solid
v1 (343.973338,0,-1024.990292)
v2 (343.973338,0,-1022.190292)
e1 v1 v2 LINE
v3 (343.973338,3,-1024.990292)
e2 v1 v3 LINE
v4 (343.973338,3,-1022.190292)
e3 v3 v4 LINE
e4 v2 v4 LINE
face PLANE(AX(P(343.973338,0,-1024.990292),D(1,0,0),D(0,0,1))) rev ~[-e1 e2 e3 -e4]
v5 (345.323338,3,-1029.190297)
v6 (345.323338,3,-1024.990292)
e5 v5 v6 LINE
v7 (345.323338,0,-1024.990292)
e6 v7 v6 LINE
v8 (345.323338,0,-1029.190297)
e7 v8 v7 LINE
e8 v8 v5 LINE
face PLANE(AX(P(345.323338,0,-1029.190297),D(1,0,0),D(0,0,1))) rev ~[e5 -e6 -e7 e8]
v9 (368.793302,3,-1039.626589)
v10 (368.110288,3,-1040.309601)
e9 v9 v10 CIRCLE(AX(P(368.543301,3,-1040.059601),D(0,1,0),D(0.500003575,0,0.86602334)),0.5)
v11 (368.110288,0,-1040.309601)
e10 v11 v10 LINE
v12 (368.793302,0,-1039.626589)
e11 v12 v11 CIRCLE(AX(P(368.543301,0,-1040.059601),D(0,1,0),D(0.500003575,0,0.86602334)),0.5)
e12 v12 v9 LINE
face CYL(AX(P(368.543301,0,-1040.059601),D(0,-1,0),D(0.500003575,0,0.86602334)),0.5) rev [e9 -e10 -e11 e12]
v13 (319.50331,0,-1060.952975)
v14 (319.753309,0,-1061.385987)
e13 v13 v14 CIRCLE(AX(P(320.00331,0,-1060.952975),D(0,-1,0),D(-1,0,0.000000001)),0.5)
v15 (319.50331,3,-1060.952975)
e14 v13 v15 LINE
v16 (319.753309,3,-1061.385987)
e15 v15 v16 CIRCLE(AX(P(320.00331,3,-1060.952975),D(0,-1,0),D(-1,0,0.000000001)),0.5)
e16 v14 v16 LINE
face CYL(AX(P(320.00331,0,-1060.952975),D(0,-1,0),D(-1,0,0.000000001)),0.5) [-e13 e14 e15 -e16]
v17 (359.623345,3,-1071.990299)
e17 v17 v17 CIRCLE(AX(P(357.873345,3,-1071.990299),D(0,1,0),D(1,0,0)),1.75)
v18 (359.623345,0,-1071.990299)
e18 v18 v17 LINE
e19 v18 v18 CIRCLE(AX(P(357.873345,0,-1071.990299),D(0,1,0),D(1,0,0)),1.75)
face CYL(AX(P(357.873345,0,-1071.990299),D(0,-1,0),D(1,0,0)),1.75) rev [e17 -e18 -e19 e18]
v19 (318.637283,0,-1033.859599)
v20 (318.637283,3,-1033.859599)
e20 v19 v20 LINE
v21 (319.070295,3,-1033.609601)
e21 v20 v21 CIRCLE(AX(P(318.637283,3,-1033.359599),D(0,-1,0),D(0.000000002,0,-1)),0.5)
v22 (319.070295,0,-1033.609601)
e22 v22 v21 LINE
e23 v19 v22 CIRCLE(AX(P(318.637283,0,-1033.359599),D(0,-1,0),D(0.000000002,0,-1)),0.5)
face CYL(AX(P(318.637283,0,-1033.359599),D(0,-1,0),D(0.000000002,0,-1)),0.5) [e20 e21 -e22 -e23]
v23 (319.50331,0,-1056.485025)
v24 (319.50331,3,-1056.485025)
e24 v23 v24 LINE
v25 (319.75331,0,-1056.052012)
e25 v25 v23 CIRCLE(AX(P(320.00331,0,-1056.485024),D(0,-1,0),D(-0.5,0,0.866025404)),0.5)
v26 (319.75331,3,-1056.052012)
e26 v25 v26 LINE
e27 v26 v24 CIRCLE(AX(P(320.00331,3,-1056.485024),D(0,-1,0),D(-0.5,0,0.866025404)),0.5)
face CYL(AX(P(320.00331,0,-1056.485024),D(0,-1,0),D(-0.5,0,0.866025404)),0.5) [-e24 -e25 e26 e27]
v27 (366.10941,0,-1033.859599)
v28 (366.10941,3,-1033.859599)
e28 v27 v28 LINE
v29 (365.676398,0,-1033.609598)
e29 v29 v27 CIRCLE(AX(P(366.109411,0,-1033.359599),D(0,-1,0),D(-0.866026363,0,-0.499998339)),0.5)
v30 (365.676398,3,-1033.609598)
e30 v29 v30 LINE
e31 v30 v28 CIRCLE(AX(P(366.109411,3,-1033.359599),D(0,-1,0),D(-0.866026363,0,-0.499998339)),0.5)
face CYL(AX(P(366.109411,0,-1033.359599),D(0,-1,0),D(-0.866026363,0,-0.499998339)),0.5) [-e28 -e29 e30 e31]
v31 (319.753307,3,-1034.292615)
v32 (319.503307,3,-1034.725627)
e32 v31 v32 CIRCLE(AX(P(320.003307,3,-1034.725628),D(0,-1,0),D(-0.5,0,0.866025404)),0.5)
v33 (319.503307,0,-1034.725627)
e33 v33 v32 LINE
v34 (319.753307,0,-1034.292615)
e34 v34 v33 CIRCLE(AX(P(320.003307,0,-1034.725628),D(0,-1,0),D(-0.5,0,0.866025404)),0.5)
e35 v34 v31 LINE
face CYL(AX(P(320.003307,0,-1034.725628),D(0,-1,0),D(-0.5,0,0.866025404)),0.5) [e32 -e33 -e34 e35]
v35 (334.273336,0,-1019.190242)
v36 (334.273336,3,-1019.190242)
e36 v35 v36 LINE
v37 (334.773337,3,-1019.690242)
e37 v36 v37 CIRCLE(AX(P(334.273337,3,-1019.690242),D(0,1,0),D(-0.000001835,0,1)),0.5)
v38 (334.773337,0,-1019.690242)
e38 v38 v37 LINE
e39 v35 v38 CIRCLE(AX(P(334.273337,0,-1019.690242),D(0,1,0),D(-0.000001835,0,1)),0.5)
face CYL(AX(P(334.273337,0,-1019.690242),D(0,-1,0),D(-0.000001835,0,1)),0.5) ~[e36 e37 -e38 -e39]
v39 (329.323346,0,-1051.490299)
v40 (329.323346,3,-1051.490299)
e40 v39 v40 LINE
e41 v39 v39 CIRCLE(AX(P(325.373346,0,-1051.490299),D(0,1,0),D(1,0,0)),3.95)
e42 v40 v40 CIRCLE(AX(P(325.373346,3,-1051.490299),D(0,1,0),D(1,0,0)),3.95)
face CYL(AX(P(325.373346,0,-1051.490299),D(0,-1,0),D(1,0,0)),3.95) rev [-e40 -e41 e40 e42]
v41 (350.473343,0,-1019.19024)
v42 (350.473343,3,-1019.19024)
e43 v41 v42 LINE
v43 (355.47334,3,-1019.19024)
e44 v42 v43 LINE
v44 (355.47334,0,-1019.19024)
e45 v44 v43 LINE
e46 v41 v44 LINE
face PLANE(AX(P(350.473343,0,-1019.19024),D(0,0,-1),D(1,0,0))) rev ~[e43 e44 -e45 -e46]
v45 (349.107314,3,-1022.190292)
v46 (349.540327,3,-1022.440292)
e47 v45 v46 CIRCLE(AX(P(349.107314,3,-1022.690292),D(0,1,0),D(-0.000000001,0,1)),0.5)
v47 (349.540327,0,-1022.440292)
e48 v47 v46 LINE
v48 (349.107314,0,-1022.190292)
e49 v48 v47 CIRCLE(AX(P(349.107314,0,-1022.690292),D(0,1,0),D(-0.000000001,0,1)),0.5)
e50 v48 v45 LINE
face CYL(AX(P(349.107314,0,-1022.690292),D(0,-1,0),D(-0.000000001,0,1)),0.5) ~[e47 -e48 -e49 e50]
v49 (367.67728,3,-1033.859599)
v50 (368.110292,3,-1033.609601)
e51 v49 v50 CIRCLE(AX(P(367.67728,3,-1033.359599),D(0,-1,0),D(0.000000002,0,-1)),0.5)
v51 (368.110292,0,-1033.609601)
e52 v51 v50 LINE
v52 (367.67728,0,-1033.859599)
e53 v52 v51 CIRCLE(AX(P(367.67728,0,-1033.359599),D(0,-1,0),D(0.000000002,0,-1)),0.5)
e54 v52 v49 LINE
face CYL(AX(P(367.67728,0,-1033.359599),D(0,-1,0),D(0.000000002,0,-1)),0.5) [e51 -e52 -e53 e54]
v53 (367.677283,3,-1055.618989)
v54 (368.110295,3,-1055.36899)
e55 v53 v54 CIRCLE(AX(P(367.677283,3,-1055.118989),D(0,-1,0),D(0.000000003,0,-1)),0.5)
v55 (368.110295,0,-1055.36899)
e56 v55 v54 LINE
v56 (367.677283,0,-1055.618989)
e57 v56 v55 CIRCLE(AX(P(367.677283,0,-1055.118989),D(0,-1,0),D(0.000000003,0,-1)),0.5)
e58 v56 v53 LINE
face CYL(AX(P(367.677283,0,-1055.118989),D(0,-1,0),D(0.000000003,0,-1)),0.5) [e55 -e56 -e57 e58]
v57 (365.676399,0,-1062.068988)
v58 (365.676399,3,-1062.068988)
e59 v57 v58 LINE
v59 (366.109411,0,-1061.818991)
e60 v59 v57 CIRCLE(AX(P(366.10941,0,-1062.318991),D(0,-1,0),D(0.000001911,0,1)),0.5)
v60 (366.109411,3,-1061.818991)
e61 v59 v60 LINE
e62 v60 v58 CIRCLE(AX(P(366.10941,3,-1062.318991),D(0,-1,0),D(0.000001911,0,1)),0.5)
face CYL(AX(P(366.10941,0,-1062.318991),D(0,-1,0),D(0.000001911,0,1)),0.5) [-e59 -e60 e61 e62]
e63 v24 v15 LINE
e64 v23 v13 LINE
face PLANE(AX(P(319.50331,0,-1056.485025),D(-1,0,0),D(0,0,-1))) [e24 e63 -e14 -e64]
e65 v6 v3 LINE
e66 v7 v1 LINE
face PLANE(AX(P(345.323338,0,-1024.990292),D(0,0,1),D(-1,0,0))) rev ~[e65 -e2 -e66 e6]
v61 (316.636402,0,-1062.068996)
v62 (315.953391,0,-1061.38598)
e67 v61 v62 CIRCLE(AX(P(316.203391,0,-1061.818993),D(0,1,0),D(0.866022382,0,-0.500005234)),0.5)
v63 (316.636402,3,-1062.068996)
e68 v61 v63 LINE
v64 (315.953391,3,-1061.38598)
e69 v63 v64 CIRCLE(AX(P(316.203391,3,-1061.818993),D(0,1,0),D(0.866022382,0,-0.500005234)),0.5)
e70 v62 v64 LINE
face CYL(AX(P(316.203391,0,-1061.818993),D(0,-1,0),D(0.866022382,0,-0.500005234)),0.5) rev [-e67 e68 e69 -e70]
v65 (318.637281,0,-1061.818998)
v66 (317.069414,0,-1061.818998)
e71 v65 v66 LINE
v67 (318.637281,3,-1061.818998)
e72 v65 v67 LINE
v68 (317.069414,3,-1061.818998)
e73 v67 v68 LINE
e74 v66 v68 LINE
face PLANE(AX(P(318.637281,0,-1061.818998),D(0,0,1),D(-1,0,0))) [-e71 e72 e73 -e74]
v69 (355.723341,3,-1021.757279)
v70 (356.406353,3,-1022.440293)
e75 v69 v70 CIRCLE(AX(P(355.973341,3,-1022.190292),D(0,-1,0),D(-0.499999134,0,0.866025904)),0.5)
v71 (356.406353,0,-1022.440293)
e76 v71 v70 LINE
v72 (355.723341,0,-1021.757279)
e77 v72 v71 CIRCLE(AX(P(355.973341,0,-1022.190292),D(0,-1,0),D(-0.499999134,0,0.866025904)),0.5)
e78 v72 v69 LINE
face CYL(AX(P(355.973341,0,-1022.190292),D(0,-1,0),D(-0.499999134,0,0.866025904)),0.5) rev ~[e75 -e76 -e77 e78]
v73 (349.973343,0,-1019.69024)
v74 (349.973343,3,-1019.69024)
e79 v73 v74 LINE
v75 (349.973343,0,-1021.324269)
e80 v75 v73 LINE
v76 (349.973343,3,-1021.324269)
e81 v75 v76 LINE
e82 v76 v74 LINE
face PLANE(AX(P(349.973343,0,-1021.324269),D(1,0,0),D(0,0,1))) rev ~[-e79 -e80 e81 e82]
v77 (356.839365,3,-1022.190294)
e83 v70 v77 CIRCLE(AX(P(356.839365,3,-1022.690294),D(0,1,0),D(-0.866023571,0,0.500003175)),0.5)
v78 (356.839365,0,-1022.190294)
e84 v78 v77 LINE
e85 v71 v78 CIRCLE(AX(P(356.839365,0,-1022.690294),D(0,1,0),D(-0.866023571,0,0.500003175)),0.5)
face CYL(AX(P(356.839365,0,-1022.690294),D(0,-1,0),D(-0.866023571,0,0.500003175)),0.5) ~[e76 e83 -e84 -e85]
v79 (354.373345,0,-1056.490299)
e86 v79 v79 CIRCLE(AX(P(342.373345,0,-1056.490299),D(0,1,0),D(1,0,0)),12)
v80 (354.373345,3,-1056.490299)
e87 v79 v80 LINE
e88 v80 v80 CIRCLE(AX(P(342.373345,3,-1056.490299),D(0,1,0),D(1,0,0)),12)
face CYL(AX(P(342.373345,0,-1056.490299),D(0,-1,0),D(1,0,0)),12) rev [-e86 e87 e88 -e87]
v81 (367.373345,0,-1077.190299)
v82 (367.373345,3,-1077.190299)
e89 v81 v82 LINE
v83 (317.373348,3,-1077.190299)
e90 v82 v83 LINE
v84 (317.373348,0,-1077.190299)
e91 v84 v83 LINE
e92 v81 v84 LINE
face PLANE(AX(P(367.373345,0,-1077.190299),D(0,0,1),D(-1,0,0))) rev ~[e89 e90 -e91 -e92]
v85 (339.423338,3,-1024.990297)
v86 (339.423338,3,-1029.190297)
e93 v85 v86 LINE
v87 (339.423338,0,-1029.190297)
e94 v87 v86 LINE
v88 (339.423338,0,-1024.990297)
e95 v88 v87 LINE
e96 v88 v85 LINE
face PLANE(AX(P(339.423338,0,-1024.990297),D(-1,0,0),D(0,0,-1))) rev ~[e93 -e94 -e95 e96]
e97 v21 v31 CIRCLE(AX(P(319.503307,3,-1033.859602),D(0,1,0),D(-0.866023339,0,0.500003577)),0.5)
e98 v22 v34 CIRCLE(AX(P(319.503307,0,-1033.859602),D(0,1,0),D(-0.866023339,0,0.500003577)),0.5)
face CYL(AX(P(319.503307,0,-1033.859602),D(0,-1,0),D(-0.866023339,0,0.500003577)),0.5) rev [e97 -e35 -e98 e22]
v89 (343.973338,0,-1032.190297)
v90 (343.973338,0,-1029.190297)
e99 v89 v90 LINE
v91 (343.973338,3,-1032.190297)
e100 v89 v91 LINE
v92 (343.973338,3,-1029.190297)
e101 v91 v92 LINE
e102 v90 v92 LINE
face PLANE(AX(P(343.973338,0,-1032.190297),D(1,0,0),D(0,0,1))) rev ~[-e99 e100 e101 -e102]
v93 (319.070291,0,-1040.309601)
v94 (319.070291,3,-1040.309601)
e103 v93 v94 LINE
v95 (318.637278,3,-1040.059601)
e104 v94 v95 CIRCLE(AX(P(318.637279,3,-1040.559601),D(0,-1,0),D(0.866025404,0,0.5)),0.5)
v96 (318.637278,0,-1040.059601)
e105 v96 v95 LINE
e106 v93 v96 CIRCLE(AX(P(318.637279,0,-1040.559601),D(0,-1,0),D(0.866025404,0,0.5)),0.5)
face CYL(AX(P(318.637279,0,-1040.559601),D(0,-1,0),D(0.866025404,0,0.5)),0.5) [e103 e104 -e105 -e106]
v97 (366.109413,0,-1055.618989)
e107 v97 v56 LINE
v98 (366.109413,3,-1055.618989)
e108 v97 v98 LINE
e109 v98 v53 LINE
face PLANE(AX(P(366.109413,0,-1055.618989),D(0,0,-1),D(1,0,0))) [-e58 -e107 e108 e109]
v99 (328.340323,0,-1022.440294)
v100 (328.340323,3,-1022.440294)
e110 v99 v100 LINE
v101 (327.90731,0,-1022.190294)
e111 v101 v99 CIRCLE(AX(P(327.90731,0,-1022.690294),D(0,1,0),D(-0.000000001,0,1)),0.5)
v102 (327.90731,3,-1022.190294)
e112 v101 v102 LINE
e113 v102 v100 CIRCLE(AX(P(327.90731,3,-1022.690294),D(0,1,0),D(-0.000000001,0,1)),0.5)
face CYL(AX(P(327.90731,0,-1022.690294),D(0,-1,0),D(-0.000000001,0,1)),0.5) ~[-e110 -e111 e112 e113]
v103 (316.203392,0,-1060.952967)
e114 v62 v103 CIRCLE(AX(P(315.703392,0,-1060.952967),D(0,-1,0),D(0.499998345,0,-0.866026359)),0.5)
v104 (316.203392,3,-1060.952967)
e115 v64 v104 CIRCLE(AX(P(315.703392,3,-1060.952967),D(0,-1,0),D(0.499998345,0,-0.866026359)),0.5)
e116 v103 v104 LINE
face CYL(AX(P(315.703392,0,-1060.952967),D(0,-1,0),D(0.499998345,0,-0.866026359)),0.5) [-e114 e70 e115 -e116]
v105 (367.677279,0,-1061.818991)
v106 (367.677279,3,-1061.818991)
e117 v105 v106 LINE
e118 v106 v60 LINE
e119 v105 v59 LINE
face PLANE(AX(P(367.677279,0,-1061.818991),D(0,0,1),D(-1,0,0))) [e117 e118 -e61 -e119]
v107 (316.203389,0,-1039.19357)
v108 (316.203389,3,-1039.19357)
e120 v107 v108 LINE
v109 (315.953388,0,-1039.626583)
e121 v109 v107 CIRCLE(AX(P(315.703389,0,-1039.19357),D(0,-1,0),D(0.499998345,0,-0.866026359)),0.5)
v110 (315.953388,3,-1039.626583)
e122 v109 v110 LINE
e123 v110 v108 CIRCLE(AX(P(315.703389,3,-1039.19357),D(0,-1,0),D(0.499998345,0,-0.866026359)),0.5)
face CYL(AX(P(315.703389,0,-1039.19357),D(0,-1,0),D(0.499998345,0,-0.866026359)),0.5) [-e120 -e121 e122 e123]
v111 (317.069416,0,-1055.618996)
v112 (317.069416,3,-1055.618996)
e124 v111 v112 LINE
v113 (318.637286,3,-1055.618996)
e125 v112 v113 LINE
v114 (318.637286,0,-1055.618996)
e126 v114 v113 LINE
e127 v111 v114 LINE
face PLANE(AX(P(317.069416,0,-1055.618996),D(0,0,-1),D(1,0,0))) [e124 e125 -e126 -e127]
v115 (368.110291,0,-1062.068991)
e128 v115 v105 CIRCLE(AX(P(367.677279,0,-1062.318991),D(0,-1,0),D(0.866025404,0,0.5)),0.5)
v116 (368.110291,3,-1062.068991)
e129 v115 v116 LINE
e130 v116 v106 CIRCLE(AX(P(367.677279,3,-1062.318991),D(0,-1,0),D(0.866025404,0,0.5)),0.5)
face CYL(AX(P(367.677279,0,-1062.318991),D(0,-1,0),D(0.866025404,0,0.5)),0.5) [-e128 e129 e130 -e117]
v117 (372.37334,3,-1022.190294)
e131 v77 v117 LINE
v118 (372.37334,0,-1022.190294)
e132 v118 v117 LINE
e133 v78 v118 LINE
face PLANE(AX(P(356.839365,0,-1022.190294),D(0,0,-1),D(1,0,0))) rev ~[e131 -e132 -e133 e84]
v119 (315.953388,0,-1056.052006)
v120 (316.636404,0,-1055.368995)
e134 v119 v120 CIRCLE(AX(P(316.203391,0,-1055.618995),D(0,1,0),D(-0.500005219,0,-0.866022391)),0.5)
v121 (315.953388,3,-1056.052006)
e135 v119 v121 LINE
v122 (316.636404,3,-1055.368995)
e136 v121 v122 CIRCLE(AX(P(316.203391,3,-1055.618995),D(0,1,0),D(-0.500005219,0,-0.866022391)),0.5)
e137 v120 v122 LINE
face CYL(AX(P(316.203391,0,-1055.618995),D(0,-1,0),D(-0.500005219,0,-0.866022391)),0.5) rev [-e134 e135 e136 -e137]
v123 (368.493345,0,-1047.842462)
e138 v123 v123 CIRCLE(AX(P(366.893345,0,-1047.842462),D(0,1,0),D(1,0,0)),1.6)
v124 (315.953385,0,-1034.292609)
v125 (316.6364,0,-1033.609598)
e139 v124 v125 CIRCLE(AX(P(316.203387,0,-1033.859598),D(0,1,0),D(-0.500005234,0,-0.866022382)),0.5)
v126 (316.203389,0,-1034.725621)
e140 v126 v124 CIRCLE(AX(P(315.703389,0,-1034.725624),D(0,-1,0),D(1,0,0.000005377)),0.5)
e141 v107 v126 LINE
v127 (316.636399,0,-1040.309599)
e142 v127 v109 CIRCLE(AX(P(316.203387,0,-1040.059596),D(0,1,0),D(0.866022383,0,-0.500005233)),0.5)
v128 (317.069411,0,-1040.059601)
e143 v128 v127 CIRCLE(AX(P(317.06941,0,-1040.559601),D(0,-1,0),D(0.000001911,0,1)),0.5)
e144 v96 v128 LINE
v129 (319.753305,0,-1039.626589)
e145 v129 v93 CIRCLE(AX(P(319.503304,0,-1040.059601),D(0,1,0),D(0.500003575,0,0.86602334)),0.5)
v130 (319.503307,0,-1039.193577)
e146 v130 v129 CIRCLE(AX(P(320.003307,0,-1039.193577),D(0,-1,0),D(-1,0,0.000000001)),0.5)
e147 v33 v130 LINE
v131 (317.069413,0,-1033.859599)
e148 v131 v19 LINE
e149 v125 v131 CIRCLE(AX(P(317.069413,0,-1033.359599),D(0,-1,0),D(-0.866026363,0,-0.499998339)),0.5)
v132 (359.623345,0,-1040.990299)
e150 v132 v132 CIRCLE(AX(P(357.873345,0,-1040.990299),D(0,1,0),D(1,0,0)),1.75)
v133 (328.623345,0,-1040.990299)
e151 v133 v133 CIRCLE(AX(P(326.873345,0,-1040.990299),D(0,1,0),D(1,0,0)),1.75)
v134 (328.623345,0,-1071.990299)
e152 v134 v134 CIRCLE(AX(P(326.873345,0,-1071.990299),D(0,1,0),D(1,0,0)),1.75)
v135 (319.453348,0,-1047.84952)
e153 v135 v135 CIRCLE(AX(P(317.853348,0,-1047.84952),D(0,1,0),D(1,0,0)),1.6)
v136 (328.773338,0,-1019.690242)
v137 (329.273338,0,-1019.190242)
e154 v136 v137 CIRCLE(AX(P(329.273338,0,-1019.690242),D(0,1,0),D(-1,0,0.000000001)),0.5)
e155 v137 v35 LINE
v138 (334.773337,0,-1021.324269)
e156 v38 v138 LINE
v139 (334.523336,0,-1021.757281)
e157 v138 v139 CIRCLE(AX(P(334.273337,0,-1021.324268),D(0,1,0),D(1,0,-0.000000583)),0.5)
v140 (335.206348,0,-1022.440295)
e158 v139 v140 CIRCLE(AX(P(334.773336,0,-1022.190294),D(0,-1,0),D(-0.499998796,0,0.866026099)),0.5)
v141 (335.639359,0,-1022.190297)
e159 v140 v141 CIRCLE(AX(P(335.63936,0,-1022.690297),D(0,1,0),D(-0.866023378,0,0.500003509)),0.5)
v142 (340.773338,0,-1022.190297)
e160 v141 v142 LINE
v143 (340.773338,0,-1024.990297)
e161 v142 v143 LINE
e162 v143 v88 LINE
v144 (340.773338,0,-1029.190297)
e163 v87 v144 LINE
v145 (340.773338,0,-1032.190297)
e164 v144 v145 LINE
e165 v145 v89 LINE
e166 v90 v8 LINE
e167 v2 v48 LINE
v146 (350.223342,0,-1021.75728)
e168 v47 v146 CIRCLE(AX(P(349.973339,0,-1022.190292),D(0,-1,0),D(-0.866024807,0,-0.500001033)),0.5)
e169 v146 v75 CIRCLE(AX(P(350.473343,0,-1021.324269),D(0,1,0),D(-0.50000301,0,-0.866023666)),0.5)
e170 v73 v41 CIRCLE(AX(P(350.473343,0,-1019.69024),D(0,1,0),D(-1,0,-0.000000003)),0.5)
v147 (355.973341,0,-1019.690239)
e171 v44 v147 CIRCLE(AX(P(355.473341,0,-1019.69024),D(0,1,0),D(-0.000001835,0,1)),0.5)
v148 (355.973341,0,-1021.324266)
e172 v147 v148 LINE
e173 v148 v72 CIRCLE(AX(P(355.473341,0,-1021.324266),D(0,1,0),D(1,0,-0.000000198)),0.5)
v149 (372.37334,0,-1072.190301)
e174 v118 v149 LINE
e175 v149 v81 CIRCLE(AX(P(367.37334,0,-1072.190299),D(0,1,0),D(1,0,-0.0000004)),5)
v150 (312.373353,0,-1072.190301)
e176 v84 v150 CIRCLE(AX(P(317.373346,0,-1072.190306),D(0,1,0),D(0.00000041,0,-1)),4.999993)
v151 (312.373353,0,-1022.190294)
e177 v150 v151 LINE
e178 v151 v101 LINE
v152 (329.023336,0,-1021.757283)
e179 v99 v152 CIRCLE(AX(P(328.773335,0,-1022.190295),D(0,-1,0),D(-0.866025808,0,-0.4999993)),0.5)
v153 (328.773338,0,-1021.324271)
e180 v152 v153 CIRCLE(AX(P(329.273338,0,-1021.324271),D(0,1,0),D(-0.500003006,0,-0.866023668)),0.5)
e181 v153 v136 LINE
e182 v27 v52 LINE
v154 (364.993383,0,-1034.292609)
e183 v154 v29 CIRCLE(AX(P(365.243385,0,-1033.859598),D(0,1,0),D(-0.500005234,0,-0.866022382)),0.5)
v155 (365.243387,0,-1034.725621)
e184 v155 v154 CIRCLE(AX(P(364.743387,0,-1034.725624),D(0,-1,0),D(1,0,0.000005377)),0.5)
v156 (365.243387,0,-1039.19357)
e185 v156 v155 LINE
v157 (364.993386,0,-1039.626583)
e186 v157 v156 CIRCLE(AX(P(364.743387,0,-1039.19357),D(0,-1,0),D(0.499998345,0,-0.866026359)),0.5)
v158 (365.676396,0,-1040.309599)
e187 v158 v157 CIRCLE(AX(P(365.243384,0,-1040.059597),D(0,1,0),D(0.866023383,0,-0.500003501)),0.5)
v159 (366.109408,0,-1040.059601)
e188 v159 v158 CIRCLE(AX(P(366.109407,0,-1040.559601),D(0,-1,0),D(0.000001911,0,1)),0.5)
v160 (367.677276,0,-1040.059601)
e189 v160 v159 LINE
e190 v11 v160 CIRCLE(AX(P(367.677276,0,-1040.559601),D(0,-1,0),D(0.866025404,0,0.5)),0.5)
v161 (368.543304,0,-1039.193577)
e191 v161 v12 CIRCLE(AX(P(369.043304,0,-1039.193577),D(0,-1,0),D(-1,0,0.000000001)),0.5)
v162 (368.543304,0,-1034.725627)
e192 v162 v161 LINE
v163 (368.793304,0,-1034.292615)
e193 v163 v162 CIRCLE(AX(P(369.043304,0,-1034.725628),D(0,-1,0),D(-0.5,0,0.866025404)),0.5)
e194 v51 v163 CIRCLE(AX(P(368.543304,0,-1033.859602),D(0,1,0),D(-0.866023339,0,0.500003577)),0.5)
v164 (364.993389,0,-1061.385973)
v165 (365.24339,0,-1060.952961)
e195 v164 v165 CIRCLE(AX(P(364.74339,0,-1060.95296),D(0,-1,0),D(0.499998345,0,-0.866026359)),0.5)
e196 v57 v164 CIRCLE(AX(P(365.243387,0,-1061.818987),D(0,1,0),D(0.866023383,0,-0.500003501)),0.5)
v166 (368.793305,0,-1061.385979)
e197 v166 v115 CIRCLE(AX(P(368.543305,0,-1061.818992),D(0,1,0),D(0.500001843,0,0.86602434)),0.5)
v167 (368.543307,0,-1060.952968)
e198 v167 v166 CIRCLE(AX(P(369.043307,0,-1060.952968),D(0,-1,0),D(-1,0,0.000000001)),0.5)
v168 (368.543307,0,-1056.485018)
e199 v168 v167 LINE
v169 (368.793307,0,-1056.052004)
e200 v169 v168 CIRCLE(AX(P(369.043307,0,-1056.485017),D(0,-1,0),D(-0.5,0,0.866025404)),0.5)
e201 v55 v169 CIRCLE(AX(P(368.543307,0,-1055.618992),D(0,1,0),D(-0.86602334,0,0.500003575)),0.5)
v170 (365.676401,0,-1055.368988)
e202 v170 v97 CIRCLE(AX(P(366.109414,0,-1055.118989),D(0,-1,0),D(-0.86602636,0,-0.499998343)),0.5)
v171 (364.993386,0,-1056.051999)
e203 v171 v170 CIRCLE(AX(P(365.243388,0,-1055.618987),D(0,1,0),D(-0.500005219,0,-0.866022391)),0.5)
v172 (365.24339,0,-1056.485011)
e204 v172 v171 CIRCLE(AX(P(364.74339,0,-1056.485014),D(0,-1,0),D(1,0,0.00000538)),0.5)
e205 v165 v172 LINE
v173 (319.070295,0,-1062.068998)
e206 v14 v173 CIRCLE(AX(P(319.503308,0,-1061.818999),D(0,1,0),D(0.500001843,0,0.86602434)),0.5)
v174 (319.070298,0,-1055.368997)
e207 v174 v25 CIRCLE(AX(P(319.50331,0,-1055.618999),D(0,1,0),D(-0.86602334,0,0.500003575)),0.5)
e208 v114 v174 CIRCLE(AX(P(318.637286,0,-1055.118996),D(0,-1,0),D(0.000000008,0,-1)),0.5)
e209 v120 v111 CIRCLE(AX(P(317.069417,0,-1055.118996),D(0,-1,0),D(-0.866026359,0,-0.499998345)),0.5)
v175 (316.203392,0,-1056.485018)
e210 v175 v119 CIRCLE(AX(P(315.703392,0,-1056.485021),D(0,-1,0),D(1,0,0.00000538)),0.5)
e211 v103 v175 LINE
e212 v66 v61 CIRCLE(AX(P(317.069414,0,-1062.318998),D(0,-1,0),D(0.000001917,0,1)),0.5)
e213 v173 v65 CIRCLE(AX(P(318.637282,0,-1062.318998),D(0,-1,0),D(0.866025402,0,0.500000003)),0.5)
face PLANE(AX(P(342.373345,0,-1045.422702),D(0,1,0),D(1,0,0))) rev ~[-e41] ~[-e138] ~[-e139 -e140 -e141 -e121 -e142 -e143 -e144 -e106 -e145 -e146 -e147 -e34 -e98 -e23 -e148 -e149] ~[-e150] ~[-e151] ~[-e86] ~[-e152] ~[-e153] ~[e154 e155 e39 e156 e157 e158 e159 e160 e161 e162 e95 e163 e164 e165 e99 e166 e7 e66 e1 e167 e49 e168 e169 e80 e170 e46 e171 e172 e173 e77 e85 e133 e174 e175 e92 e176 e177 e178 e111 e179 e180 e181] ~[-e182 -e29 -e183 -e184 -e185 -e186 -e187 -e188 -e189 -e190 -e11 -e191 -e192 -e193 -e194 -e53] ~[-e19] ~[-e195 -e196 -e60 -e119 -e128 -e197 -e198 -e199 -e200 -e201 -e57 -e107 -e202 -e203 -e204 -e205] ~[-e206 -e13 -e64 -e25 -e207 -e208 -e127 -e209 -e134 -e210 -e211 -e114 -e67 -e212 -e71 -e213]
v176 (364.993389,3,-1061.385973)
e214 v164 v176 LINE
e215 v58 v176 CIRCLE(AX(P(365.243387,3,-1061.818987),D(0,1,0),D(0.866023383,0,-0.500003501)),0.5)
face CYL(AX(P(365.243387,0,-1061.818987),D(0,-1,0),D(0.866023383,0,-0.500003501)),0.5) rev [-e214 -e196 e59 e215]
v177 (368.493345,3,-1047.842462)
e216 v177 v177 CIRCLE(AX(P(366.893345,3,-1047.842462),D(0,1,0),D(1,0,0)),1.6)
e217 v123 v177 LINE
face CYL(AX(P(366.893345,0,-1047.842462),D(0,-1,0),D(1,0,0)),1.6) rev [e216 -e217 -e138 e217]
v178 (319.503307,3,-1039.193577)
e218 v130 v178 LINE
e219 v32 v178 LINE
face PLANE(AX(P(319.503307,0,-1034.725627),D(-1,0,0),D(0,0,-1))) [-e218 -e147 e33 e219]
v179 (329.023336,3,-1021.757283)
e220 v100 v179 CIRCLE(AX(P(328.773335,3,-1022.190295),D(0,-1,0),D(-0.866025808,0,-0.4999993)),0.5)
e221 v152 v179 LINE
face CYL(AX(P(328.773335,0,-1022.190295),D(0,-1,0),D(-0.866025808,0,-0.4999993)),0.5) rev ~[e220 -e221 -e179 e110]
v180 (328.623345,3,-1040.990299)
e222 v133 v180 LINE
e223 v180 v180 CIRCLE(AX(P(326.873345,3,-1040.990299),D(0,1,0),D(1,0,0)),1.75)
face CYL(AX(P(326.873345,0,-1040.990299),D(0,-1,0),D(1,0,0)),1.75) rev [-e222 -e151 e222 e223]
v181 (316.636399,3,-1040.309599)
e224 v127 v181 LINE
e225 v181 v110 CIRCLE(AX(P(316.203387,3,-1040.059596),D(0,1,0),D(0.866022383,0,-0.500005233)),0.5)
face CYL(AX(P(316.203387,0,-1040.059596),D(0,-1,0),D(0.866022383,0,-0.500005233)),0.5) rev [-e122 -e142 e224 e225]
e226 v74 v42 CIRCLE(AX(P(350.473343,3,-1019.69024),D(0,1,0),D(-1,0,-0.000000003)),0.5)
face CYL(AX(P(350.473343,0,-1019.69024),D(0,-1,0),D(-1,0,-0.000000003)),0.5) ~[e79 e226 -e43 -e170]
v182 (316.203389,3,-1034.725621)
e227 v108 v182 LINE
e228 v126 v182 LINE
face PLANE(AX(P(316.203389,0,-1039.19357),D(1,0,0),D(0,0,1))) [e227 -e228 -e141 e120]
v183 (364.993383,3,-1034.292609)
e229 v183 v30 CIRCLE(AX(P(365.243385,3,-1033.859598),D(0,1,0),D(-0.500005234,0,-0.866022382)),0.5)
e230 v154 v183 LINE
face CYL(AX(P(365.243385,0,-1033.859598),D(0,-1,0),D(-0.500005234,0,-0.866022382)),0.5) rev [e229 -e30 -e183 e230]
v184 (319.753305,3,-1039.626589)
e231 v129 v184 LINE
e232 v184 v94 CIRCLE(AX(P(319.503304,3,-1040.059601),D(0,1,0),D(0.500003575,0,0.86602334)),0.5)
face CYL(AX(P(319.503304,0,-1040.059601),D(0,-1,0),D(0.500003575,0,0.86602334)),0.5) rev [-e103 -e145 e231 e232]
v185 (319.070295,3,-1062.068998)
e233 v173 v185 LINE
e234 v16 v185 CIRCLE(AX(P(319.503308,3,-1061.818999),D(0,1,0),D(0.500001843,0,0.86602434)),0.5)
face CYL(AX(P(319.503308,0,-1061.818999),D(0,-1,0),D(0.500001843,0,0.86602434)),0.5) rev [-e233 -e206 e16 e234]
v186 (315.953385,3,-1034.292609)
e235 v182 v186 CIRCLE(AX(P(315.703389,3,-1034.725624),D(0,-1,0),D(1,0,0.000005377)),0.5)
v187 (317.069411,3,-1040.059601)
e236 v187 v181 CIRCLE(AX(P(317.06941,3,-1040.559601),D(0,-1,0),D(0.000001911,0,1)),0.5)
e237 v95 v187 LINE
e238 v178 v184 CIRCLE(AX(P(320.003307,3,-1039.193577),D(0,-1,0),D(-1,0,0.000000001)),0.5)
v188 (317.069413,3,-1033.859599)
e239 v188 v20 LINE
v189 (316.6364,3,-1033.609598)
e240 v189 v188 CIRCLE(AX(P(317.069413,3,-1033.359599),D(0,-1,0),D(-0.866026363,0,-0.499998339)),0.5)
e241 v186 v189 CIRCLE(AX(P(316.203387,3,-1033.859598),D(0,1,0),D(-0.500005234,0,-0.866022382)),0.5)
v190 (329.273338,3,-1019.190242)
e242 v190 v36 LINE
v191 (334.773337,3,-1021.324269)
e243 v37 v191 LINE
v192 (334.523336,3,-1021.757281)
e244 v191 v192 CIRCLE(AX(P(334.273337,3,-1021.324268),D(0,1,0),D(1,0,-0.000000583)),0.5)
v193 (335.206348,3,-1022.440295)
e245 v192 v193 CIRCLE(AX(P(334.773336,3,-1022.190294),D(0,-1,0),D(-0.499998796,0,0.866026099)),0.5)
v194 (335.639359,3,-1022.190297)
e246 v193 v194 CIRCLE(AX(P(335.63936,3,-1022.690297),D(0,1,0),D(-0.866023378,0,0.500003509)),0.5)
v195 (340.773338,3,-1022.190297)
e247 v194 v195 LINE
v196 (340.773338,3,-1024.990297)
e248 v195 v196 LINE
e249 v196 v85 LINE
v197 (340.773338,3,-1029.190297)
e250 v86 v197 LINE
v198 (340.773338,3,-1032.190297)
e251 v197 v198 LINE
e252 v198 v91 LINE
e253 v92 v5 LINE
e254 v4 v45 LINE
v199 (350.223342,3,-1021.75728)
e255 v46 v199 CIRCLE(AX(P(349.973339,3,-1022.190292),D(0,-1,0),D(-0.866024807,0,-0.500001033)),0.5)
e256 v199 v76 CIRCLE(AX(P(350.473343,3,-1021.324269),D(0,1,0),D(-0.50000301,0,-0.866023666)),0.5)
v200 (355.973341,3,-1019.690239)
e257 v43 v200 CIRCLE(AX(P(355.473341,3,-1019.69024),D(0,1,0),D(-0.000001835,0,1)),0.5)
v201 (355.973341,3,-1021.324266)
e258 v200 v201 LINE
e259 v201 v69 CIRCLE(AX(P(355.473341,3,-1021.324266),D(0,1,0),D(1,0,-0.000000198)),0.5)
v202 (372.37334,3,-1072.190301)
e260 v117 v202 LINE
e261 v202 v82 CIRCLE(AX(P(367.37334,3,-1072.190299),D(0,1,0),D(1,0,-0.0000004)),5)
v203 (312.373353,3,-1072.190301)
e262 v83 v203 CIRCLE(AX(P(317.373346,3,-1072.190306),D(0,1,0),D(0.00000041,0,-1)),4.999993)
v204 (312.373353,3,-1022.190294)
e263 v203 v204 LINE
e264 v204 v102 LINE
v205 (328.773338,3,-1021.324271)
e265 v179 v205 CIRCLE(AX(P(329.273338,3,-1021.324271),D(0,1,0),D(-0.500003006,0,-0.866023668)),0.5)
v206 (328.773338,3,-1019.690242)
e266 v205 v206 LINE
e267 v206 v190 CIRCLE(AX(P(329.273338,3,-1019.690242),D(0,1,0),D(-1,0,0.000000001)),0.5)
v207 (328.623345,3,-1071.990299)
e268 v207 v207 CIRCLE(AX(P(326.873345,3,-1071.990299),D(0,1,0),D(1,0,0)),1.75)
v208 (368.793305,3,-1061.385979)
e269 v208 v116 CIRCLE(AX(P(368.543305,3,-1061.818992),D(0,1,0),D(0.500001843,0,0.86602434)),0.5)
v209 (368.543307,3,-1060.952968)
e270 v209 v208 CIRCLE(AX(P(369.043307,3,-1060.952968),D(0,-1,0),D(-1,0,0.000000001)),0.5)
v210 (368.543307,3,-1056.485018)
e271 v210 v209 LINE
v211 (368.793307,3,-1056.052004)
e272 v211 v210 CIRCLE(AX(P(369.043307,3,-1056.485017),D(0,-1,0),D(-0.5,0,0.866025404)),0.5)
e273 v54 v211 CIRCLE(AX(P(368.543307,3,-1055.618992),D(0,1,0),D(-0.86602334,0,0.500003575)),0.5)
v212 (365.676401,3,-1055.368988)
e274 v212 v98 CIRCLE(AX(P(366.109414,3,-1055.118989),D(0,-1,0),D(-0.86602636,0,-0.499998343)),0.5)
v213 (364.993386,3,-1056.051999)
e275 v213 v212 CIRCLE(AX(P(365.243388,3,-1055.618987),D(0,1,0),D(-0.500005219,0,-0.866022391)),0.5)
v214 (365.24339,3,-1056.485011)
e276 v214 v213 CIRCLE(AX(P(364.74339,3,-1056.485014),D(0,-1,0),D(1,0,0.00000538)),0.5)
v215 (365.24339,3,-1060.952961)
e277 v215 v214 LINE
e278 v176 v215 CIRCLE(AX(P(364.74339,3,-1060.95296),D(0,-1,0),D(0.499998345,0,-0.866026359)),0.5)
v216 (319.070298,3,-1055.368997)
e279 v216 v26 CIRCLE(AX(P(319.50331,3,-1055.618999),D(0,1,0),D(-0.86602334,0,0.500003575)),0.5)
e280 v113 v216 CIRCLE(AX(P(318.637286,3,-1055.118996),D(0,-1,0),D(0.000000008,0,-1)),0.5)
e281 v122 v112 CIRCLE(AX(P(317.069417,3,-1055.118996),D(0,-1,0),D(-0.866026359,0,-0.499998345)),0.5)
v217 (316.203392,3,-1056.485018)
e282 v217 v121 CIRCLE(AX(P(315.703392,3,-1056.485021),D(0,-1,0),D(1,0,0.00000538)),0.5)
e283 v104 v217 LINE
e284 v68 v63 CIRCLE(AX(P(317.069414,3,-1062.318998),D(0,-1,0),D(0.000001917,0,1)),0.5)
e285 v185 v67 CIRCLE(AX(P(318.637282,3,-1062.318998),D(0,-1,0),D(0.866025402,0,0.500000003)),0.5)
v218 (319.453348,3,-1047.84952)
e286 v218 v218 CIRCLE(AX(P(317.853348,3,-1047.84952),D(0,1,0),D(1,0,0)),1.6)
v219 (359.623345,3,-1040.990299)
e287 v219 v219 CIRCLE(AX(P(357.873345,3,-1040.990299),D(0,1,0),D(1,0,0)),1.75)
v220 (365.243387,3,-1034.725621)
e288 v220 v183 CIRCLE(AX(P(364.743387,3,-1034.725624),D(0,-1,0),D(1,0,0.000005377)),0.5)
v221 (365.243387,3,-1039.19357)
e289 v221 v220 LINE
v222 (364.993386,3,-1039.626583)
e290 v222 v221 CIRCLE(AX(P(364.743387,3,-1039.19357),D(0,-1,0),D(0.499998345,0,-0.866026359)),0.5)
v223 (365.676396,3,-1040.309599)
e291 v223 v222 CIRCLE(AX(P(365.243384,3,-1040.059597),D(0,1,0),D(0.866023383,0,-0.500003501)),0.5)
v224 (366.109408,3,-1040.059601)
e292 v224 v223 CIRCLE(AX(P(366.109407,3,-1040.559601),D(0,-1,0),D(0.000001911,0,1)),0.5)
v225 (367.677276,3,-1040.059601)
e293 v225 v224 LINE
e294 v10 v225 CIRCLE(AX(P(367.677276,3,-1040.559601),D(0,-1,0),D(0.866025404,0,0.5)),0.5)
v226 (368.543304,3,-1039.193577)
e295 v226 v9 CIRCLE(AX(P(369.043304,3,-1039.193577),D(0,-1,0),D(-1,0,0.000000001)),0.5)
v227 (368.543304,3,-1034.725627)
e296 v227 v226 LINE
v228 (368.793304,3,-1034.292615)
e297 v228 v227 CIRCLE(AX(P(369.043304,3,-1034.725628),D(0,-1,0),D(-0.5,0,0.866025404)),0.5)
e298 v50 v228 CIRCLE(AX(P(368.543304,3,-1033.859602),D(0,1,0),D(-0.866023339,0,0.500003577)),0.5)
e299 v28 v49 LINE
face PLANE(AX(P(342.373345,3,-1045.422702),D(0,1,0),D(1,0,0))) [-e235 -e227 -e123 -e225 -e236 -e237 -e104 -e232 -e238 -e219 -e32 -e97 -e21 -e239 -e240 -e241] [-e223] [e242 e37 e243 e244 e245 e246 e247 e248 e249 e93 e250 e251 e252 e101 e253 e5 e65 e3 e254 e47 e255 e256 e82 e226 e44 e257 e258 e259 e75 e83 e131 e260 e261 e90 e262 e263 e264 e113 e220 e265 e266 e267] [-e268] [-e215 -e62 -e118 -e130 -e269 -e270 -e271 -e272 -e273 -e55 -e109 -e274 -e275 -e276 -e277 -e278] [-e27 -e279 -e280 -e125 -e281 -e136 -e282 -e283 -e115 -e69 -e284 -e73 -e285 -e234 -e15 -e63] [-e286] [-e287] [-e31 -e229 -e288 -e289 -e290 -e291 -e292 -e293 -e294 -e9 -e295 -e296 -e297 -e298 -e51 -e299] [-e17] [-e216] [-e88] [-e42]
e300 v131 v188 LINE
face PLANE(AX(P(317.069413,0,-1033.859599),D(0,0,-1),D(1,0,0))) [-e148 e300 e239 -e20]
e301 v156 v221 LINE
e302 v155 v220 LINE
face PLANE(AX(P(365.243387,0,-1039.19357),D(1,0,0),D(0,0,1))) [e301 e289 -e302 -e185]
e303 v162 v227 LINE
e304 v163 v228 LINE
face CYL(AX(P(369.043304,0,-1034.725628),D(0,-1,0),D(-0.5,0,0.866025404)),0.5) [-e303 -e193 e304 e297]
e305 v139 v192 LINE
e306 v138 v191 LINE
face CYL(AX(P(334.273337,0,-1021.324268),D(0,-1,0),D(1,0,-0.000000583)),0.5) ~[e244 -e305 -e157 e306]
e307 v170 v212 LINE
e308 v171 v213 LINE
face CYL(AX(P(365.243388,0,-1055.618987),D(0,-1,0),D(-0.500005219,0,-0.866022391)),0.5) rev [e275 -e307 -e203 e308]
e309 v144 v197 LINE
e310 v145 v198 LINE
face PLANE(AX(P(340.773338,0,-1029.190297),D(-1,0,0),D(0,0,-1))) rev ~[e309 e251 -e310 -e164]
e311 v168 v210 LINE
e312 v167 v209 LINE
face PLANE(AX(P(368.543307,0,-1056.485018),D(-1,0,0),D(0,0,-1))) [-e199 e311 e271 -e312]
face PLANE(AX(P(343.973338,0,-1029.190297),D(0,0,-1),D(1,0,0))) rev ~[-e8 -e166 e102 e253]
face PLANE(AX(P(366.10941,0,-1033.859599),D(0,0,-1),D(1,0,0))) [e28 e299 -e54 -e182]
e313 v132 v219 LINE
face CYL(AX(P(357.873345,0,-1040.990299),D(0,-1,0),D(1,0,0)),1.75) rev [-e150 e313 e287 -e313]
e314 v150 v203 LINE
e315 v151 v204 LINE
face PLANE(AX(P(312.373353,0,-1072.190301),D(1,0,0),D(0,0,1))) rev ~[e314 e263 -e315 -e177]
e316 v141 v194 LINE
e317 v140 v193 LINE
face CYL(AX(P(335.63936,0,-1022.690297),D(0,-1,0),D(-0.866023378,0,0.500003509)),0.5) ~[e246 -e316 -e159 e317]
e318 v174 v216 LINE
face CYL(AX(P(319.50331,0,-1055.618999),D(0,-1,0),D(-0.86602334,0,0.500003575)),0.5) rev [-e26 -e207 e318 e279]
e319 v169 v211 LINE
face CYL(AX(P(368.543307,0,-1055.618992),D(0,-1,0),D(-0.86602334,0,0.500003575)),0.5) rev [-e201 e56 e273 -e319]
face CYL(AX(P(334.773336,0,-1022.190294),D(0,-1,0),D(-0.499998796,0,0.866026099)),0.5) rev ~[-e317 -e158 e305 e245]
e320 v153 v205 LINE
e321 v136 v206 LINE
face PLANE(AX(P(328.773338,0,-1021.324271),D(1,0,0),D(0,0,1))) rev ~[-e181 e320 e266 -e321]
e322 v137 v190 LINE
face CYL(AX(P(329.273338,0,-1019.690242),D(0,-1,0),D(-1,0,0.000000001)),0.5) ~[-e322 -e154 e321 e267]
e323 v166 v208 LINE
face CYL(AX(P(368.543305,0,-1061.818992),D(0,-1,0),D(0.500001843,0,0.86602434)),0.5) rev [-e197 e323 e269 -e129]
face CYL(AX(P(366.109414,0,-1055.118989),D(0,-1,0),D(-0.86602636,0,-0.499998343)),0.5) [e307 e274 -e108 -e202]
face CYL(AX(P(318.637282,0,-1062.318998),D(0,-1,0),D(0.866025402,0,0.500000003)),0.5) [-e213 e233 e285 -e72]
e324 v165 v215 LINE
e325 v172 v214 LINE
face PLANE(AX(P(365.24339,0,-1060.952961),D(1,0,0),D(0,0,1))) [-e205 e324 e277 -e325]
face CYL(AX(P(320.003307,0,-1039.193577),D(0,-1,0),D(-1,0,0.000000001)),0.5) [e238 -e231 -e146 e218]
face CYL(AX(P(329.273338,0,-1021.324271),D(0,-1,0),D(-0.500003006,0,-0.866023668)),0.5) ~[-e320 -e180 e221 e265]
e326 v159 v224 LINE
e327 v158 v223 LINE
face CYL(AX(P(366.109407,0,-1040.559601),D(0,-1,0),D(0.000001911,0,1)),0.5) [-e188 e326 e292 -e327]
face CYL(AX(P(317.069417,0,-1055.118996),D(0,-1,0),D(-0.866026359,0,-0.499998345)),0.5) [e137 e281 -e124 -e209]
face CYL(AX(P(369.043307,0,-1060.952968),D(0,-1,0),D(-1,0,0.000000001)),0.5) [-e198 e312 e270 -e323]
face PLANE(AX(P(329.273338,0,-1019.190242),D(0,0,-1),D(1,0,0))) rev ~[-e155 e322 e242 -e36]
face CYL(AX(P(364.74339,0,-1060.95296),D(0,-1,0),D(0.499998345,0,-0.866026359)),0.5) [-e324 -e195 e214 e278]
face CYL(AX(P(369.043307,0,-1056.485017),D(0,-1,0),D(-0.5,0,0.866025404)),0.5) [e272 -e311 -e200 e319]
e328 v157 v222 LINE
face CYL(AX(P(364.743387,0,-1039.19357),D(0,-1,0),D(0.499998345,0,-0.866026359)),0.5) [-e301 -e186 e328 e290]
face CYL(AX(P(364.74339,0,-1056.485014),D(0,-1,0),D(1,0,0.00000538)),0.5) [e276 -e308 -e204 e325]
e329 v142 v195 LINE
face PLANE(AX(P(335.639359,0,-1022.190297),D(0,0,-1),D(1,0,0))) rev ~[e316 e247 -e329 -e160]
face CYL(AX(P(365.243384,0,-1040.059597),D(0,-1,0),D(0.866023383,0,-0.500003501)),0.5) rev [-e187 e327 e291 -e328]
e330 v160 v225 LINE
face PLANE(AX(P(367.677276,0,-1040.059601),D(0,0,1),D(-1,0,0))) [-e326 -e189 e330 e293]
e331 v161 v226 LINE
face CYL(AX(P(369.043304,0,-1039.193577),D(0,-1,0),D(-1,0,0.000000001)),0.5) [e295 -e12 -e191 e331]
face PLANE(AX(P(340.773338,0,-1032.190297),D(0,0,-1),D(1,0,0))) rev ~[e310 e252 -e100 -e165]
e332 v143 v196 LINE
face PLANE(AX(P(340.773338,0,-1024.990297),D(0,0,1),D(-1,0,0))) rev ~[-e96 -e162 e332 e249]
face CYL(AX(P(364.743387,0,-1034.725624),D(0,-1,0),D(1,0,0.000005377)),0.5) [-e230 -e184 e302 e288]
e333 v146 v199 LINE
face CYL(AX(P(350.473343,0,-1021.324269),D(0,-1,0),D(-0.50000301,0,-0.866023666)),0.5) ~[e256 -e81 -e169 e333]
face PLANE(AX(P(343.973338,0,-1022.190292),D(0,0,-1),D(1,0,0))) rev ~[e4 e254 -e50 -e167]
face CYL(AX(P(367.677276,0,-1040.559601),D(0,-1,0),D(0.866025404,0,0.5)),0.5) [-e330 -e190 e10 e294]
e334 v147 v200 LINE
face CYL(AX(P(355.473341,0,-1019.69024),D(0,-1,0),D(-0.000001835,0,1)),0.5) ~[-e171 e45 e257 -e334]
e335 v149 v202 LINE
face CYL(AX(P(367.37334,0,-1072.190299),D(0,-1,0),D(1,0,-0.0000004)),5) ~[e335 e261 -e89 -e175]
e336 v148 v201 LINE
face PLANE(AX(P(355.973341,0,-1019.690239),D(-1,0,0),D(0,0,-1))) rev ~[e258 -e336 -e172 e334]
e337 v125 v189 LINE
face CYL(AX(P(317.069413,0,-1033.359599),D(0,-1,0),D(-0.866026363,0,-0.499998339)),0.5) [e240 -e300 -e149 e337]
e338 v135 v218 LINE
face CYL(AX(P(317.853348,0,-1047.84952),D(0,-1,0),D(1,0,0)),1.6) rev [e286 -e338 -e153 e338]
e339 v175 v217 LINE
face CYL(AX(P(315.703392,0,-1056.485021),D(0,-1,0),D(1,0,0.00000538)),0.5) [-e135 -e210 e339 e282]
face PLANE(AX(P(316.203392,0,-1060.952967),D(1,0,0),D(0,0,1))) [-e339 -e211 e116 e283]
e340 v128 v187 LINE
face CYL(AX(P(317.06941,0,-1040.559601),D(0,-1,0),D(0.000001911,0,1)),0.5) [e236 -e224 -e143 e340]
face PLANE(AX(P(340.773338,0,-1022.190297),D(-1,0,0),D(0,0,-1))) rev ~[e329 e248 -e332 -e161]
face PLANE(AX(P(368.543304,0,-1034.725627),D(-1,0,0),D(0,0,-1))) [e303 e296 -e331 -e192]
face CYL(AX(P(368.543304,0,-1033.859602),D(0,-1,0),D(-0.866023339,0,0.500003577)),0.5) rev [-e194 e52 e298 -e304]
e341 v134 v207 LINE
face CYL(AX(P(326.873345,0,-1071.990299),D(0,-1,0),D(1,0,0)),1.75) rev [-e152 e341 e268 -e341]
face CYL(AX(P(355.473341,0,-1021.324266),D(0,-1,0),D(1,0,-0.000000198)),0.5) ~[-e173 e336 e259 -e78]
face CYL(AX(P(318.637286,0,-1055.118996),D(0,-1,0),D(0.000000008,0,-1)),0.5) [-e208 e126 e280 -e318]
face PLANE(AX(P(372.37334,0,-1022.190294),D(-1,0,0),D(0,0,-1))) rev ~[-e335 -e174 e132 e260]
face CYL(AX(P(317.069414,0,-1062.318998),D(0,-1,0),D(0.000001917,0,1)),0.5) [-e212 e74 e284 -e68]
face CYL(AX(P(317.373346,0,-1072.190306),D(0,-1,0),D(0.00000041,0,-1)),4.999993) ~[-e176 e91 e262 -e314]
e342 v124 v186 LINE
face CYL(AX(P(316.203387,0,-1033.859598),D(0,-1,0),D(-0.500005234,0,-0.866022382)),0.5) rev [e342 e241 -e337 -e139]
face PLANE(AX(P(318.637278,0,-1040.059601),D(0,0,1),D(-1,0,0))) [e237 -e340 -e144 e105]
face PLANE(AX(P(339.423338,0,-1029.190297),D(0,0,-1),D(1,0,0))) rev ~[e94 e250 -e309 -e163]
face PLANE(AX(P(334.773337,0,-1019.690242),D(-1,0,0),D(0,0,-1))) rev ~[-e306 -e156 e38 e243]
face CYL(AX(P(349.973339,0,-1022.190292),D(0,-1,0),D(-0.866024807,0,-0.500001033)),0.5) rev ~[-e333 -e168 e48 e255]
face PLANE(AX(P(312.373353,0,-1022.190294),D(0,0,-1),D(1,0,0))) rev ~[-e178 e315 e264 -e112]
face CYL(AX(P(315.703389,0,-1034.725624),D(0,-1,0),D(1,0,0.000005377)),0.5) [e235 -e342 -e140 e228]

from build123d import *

# Parameters (mm, degrees)
SKETCH1_R           = 1.6
SKETCH1_R_2         = 1.75
SKETCH1_R_3         = 3.95
SKETCH1_R_4         = 12
BOSS_EXTRUDE1_DEPTH = 3


with BuildPart() as part:
    # Sketch1 → Boss-Extrude1 (new body)
    with BuildSketch(Plane(origin=(0, 0, 0), x_dir=(1, 0, 0), z_dir=(0, 1, 0))):
        with BuildLine():
            Line((312.373352996, 1022.190294437), (327.907309833, 1022.190294437))
            ThreePointArc((327.907309833, 1022.190294437), (328.157309833, 1022.257281735), (328.340322535, 1022.440294437))
            ThreePointArc((328.340322535, 1022.440294437), (329.126888323, 1022.543848684), (329.023336329, 1021.757282599))
            ThreePointArc((329.023336329, 1021.757282599), (328.840324865, 1021.574270305), (328.773337833, 1021.324271437))
            Line((328.773337833, 1021.324271437), (328.773337833, 1019.690242437))
            ThreePointArc((328.773337833, 1019.690242437), (328.919784442, 1019.336689047), (329.273337833, 1019.190242437))
            Line((329.273337833, 1019.190242437), (334.273335833, 1019.190242437))
            ThreePointArc((334.273335833, 1019.190242437), (334.626889492, 1019.336688397), (334.773336751, 1019.690241519))
            Line((334.773336751, 1019.690241519), (334.773336751, 1021.324268519))
            ThreePointArc((334.773336751, 1021.324268519), (334.706349307, 1021.57426848), (334.523336498, 1021.757281075))
            ThreePointArc((334.523336498, 1021.757281075), (334.419781792, 1022.543846802), (335.206347937, 1022.440295269))
            ThreePointArc((335.206347937, 1022.440295269), (335.389360338, 1022.257283911), (335.639359245, 1022.190297025))
            Line((335.639359245, 1022.190297025), (340.773337745, 1022.190297025))
            Line((340.773337745, 1022.190297025), (340.773337745, 1024.990297025))
            Line((340.773337745, 1024.990297025), (339.423337745, 1024.990297025))
            Line((339.423337745, 1024.990297025), (339.423337745, 1029.190297025))
            Line((339.423337745, 1029.190297025), (340.773337745, 1029.190297025))
            Line((340.773337745, 1029.190297025), (340.773337745, 1032.190297025))
            Line((340.773337745, 1032.190297025), (343.973337745, 1032.190297025))
            Line((343.973337745, 1032.190297025), (343.973337745, 1029.190297025))
            Line((343.973337745, 1029.190297025), (345.323337745, 1029.190297025))
            Line((345.323337745, 1029.190297025), (345.323337745, 1024.990292188))
            Line((345.323337745, 1024.990292188), (343.973337745, 1024.990292188))
            Line((343.973337745, 1024.990292188), (343.973337745, 1022.190292188))
            Line((343.973337745, 1022.190292188), (349.107314245, 1022.190292188))
            ThreePointArc((349.107314245, 1022.190292188), (349.357314245, 1022.257279486), (349.540326947, 1022.440292188))
            ThreePointArc((349.540326947, 1022.440292188), (350.326891976, 1022.543845827), (350.223341741, 1021.75728035))
            ThreePointArc((350.223341741, 1021.75728035), (350.040330277, 1021.574268055), (349.973343245, 1021.324269188))
            Line((349.973343245, 1021.324269188), (349.973343245, 1019.690240188))
            ThreePointArc((349.973343245, 1019.690240188), (350.119789854, 1019.336686797), (350.473343245, 1019.190240188))
            Line((350.473343245, 1019.190240188), (355.473340245, 1019.190240188))
            ThreePointArc((355.473340245, 1019.190240188), (355.826893904, 1019.336686148), (355.973341163, 1019.69023927))
            Line((355.973341163, 1019.69023927), (355.973341163, 1021.32426627))
            ThreePointArc((355.973341163, 1021.32426627), (355.906353816, 1021.574266257), (355.723341079, 1021.757278924))
            ThreePointArc((355.723341079, 1021.757278924), (355.619786681, 1022.543844692), (356.406352785, 1022.44029285))
            ThreePointArc((356.406352785, 1022.44029285), (356.589365548, 1022.257281171), (356.839364996, 1022.190294437))
            Line((356.839364996, 1022.190294437), (372.373340046, 1022.190294437))
            Line((372.373340046, 1022.190294437), (372.373340046, 1072.190301225))
            ThreePointArc((372.373340046, 1072.190301225), (370.908875012, 1075.72583207), (367.373345046, 1077.190299225))
            Line((367.373345046, 1077.190299225), (317.373348046, 1077.190299225))
            ThreePointArc((317.373348046, 1077.190299225), (313.837816014, 1075.725834155), (312.373352996, 1072.190301275))
            Line((312.373352996, 1072.190301275), (312.373352996, 1022.190294437))
        make_face()
        with Locations((366.893344996, 1047.842461747)):
            Circle(SKETCH1_R, mode=Mode.SUBTRACT)
        with Locations((357.873345496, 1071.990299275)):
            Circle(SKETCH1_R_2, mode=Mode.SUBTRACT)
        with Locations((357.873345496, 1040.990299275)):
            Circle(SKETCH1_R_2, mode=Mode.SUBTRACT)
        with Locations((325.373345996, 1051.490299275)):
            Circle(SKETCH1_R_3, mode=Mode.SUBTRACT)
        with Locations((342.373345496, 1056.490299275)):
            Circle(SKETCH1_R_4, mode=Mode.SUBTRACT)
        with Locations((326.873345496, 1071.990299275)):
            Circle(SKETCH1_R_2, mode=Mode.SUBTRACT)
        with Locations((326.873345496, 1040.990299275)):
            Circle(SKETCH1_R_2, mode=Mode.SUBTRACT)
        with Locations((317.853347996, 1047.84952041)):
            Circle(SKETCH1_R, mode=Mode.SUBTRACT)
        with BuildLine():
            Line((365.243389653, 1060.95296097), (365.243389653, 1056.48501097))
            ThreePointArc((365.243389653, 1056.48501097), (365.176400533, 1056.235010504), (364.993385671, 1056.051998658))
            ThreePointArc((364.993385671, 1056.051998658), (364.889836092, 1055.26543287), (365.676401176, 1055.368987799))
            ThreePointArc((365.676401176, 1055.368987799), (365.859413353, 1055.55200075), (366.109412996, 1055.618988627))
            Line((366.109412996, 1055.618988627), (367.677282996, 1055.618988627))
            ThreePointArc((367.677282996, 1055.618988627), (367.927282247, 1055.552001761), (368.110294834, 1055.368990124))
            ThreePointArc((368.110294834, 1055.368990124), (368.896860423, 1055.26543905), (368.793306996, 1056.052004329))
            ThreePointArc((368.793306996, 1056.052004329), (368.610294145, 1056.235017289), (368.543306996, 1056.485017627))
            Line((368.543306996, 1056.485017627), (368.543306996, 1060.952967627))
            ThreePointArc((368.543306996, 1060.952967627), (368.610293862, 1061.202966879), (368.793305499, 1061.385979465))
            ThreePointArc((368.793305499, 1061.385979465), (368.89685718, 1062.172545813), (368.110291294, 1062.068990627))
            ThreePointArc((368.110291294, 1062.068990627), (367.927278767, 1061.885978026), (367.677278996, 1061.818990627))
            Line((367.677278996, 1061.818990627), (366.109410996, 1061.818990627))
            ThreePointArc((366.109410996, 1061.818990627), (365.859411616, 1061.885977015), (365.676398679, 1062.068988302))
            ThreePointArc((365.676398679, 1062.068988302), (364.889832133, 1062.172538478), (364.993388824, 1061.38597279))
            ThreePointArc((364.993388824, 1061.38597279), (365.176401775, 1061.202960613), (365.243389653, 1060.95296097))
        make_face(mode=Mode.SUBTRACT)
        with BuildLine():
            Line((318.637281496, 1061.818997965), (317.069414496, 1061.818997965))
            ThreePointArc((317.069414496, 1061.818997965), (316.819415116, 1061.885984352), (316.636402179, 1062.06899564))
            ThreePointArc((316.636402179, 1062.06899564), (315.849836392, 1062.172545208), (315.953391324, 1061.385980127))
            ThreePointArc((315.953391324, 1061.385980127), (316.136404615, 1061.202967361), (316.203392153, 1060.952966947))
            Line((316.203392153, 1060.952966947), (316.203392153, 1056.485018307))
            ThreePointArc((316.203392153, 1056.485018307), (316.136403033, 1056.235017841), (315.953388171, 1056.052005995))
            ThreePointArc((315.953388171, 1056.052005995), (315.849838592, 1055.265440207), (316.636403676, 1055.368995136))
            ThreePointArc((316.636403676, 1055.368995136), (316.819416286, 1055.552008337), (317.069416496, 1055.618995965))
            Line((317.069416496, 1055.618995965), (318.637286496, 1055.618995965))
            ThreePointArc((318.637286496, 1055.618995965), (318.887285747, 1055.552009098), (319.070298334, 1055.368997461))
            ThreePointArc((319.070298334, 1055.368997461), (319.856863923, 1055.265446387), (319.753310496, 1056.052011666))
            ThreePointArc((319.753310496, 1056.052011666), (319.570297645, 1056.235024626), (319.503310496, 1056.485024964))
            Line((319.503310496, 1056.485024964), (319.503310496, 1060.952974964))
            ThreePointArc((319.503310496, 1060.952974964), (319.570297362, 1061.202974216), (319.753308999, 1061.385986802))
            ThreePointArc((319.753308999, 1061.385986802), (319.85686068, 1062.17255315), (319.070294794, 1062.068997964))
            ThreePointArc((319.070294794, 1062.068997964), (318.887281834, 1061.885985114), (318.637281496, 1061.818997965))
        make_face(mode=Mode.SUBTRACT)
        with BuildLine():
            Line((316.203388653, 1039.193570463), (316.203388653, 1034.725621463))
            ThreePointArc((316.203388653, 1034.725621463), (316.136399531, 1034.475620993), (315.953384663, 1034.292609147))
            ThreePointArc((315.953384663, 1034.292609147), (315.849835095, 1033.506043359), (316.636400176, 1033.609598291))
            ThreePointArc((316.636400176, 1033.609598291), (316.819412786, 1033.792611493), (317.069412996, 1033.85959912))
            Line((317.069412996, 1033.85959912), (318.637282996, 1033.85959912))
            ThreePointArc((318.637282996, 1033.85959912), (318.887282247, 1033.792612254), (319.070294834, 1033.609600616))
            ThreePointArc((319.070294834, 1033.609600616), (319.856860423, 1033.506049543), (319.753306996, 1034.292614822))
            ThreePointArc((319.753306996, 1034.292614822), (319.570294395, 1034.475627349), (319.503306996, 1034.72562712))
            Line((319.503306996, 1034.72562712), (319.503306996, 1039.19357712))
            ThreePointArc((319.503306996, 1039.19357712), (319.570293862, 1039.443576372), (319.753305499, 1039.626588958))
            ThreePointArc((319.753305499, 1039.626588958), (319.856856573, 1040.413154547), (319.070291294, 1040.30960112))
            ThreePointArc((319.070291294, 1040.30960112), (318.887278334, 1040.126588269), (318.637277996, 1040.05960112))
            Line((318.637277996, 1040.05960112), (317.069410996, 1040.05960112))
            ThreePointArc((317.069410996, 1040.05960112), (316.819411616, 1040.126587508), (316.636398679, 1040.309598795))
            ThreePointArc((316.636398679, 1040.309598795), (315.849832892, 1040.413148364), (315.953387824, 1039.626583283))
            ThreePointArc((315.953387824, 1039.626583283), (316.136401025, 1039.443570673), (316.203388653, 1039.193570463))
        make_face(mode=Mode.SUBTRACT)
        with BuildLine():
            Line((368.543303996, 1034.72562712), (368.543303996, 1039.19357712))
            ThreePointArc((368.543303996, 1039.19357712), (368.610290862, 1039.443576372), (368.793302499, 1039.626588958))
            ThreePointArc((368.793302499, 1039.626588958), (368.896853573, 1040.413154547), (368.110288294, 1040.30960112))
            ThreePointArc((368.110288294, 1040.30960112), (367.927275767, 1040.126588519), (367.677275996, 1040.05960112))
            Line((367.677275996, 1040.05960112), (366.109407996, 1040.05960112))
            ThreePointArc((366.109407996, 1040.05960112), (365.859408616, 1040.126587508), (365.676395679, 1040.309598795))
            ThreePointArc((365.676395679, 1040.309598795), (364.889829133, 1040.413148971), (364.993385824, 1039.626583283))
            ThreePointArc((364.993385824, 1039.626583283), (365.176399025, 1039.443570673), (365.243386653, 1039.193570463))
            Line((365.243386653, 1039.193570463), (365.243386653, 1034.725621463))
            ThreePointArc((365.243386653, 1034.725621463), (365.176397531, 1034.475620993), (364.993382663, 1034.292609147))
            ThreePointArc((364.993382663, 1034.292609147), (364.889833095, 1033.506043359), (365.676398176, 1033.609598291))
            ThreePointArc((365.676398176, 1033.609598291), (365.859410353, 1033.792611243), (366.109409996, 1033.85959912))
            Line((366.109409996, 1033.85959912), (367.677279996, 1033.85959912))
            ThreePointArc((367.677279996, 1033.85959912), (367.927279247, 1033.792612254), (368.110291834, 1033.609600616))
            ThreePointArc((368.110291834, 1033.609600616), (368.896857423, 1033.506049543), (368.793303996, 1034.292614822))
            ThreePointArc((368.793303996, 1034.292614822), (368.610291395, 1034.475627349), (368.543303996, 1034.72562712))
        make_face(mode=Mode.SUBTRACT)
    extrude(amount=BOSS_EXTRUDE1_DEPTH)


solid = part.part
